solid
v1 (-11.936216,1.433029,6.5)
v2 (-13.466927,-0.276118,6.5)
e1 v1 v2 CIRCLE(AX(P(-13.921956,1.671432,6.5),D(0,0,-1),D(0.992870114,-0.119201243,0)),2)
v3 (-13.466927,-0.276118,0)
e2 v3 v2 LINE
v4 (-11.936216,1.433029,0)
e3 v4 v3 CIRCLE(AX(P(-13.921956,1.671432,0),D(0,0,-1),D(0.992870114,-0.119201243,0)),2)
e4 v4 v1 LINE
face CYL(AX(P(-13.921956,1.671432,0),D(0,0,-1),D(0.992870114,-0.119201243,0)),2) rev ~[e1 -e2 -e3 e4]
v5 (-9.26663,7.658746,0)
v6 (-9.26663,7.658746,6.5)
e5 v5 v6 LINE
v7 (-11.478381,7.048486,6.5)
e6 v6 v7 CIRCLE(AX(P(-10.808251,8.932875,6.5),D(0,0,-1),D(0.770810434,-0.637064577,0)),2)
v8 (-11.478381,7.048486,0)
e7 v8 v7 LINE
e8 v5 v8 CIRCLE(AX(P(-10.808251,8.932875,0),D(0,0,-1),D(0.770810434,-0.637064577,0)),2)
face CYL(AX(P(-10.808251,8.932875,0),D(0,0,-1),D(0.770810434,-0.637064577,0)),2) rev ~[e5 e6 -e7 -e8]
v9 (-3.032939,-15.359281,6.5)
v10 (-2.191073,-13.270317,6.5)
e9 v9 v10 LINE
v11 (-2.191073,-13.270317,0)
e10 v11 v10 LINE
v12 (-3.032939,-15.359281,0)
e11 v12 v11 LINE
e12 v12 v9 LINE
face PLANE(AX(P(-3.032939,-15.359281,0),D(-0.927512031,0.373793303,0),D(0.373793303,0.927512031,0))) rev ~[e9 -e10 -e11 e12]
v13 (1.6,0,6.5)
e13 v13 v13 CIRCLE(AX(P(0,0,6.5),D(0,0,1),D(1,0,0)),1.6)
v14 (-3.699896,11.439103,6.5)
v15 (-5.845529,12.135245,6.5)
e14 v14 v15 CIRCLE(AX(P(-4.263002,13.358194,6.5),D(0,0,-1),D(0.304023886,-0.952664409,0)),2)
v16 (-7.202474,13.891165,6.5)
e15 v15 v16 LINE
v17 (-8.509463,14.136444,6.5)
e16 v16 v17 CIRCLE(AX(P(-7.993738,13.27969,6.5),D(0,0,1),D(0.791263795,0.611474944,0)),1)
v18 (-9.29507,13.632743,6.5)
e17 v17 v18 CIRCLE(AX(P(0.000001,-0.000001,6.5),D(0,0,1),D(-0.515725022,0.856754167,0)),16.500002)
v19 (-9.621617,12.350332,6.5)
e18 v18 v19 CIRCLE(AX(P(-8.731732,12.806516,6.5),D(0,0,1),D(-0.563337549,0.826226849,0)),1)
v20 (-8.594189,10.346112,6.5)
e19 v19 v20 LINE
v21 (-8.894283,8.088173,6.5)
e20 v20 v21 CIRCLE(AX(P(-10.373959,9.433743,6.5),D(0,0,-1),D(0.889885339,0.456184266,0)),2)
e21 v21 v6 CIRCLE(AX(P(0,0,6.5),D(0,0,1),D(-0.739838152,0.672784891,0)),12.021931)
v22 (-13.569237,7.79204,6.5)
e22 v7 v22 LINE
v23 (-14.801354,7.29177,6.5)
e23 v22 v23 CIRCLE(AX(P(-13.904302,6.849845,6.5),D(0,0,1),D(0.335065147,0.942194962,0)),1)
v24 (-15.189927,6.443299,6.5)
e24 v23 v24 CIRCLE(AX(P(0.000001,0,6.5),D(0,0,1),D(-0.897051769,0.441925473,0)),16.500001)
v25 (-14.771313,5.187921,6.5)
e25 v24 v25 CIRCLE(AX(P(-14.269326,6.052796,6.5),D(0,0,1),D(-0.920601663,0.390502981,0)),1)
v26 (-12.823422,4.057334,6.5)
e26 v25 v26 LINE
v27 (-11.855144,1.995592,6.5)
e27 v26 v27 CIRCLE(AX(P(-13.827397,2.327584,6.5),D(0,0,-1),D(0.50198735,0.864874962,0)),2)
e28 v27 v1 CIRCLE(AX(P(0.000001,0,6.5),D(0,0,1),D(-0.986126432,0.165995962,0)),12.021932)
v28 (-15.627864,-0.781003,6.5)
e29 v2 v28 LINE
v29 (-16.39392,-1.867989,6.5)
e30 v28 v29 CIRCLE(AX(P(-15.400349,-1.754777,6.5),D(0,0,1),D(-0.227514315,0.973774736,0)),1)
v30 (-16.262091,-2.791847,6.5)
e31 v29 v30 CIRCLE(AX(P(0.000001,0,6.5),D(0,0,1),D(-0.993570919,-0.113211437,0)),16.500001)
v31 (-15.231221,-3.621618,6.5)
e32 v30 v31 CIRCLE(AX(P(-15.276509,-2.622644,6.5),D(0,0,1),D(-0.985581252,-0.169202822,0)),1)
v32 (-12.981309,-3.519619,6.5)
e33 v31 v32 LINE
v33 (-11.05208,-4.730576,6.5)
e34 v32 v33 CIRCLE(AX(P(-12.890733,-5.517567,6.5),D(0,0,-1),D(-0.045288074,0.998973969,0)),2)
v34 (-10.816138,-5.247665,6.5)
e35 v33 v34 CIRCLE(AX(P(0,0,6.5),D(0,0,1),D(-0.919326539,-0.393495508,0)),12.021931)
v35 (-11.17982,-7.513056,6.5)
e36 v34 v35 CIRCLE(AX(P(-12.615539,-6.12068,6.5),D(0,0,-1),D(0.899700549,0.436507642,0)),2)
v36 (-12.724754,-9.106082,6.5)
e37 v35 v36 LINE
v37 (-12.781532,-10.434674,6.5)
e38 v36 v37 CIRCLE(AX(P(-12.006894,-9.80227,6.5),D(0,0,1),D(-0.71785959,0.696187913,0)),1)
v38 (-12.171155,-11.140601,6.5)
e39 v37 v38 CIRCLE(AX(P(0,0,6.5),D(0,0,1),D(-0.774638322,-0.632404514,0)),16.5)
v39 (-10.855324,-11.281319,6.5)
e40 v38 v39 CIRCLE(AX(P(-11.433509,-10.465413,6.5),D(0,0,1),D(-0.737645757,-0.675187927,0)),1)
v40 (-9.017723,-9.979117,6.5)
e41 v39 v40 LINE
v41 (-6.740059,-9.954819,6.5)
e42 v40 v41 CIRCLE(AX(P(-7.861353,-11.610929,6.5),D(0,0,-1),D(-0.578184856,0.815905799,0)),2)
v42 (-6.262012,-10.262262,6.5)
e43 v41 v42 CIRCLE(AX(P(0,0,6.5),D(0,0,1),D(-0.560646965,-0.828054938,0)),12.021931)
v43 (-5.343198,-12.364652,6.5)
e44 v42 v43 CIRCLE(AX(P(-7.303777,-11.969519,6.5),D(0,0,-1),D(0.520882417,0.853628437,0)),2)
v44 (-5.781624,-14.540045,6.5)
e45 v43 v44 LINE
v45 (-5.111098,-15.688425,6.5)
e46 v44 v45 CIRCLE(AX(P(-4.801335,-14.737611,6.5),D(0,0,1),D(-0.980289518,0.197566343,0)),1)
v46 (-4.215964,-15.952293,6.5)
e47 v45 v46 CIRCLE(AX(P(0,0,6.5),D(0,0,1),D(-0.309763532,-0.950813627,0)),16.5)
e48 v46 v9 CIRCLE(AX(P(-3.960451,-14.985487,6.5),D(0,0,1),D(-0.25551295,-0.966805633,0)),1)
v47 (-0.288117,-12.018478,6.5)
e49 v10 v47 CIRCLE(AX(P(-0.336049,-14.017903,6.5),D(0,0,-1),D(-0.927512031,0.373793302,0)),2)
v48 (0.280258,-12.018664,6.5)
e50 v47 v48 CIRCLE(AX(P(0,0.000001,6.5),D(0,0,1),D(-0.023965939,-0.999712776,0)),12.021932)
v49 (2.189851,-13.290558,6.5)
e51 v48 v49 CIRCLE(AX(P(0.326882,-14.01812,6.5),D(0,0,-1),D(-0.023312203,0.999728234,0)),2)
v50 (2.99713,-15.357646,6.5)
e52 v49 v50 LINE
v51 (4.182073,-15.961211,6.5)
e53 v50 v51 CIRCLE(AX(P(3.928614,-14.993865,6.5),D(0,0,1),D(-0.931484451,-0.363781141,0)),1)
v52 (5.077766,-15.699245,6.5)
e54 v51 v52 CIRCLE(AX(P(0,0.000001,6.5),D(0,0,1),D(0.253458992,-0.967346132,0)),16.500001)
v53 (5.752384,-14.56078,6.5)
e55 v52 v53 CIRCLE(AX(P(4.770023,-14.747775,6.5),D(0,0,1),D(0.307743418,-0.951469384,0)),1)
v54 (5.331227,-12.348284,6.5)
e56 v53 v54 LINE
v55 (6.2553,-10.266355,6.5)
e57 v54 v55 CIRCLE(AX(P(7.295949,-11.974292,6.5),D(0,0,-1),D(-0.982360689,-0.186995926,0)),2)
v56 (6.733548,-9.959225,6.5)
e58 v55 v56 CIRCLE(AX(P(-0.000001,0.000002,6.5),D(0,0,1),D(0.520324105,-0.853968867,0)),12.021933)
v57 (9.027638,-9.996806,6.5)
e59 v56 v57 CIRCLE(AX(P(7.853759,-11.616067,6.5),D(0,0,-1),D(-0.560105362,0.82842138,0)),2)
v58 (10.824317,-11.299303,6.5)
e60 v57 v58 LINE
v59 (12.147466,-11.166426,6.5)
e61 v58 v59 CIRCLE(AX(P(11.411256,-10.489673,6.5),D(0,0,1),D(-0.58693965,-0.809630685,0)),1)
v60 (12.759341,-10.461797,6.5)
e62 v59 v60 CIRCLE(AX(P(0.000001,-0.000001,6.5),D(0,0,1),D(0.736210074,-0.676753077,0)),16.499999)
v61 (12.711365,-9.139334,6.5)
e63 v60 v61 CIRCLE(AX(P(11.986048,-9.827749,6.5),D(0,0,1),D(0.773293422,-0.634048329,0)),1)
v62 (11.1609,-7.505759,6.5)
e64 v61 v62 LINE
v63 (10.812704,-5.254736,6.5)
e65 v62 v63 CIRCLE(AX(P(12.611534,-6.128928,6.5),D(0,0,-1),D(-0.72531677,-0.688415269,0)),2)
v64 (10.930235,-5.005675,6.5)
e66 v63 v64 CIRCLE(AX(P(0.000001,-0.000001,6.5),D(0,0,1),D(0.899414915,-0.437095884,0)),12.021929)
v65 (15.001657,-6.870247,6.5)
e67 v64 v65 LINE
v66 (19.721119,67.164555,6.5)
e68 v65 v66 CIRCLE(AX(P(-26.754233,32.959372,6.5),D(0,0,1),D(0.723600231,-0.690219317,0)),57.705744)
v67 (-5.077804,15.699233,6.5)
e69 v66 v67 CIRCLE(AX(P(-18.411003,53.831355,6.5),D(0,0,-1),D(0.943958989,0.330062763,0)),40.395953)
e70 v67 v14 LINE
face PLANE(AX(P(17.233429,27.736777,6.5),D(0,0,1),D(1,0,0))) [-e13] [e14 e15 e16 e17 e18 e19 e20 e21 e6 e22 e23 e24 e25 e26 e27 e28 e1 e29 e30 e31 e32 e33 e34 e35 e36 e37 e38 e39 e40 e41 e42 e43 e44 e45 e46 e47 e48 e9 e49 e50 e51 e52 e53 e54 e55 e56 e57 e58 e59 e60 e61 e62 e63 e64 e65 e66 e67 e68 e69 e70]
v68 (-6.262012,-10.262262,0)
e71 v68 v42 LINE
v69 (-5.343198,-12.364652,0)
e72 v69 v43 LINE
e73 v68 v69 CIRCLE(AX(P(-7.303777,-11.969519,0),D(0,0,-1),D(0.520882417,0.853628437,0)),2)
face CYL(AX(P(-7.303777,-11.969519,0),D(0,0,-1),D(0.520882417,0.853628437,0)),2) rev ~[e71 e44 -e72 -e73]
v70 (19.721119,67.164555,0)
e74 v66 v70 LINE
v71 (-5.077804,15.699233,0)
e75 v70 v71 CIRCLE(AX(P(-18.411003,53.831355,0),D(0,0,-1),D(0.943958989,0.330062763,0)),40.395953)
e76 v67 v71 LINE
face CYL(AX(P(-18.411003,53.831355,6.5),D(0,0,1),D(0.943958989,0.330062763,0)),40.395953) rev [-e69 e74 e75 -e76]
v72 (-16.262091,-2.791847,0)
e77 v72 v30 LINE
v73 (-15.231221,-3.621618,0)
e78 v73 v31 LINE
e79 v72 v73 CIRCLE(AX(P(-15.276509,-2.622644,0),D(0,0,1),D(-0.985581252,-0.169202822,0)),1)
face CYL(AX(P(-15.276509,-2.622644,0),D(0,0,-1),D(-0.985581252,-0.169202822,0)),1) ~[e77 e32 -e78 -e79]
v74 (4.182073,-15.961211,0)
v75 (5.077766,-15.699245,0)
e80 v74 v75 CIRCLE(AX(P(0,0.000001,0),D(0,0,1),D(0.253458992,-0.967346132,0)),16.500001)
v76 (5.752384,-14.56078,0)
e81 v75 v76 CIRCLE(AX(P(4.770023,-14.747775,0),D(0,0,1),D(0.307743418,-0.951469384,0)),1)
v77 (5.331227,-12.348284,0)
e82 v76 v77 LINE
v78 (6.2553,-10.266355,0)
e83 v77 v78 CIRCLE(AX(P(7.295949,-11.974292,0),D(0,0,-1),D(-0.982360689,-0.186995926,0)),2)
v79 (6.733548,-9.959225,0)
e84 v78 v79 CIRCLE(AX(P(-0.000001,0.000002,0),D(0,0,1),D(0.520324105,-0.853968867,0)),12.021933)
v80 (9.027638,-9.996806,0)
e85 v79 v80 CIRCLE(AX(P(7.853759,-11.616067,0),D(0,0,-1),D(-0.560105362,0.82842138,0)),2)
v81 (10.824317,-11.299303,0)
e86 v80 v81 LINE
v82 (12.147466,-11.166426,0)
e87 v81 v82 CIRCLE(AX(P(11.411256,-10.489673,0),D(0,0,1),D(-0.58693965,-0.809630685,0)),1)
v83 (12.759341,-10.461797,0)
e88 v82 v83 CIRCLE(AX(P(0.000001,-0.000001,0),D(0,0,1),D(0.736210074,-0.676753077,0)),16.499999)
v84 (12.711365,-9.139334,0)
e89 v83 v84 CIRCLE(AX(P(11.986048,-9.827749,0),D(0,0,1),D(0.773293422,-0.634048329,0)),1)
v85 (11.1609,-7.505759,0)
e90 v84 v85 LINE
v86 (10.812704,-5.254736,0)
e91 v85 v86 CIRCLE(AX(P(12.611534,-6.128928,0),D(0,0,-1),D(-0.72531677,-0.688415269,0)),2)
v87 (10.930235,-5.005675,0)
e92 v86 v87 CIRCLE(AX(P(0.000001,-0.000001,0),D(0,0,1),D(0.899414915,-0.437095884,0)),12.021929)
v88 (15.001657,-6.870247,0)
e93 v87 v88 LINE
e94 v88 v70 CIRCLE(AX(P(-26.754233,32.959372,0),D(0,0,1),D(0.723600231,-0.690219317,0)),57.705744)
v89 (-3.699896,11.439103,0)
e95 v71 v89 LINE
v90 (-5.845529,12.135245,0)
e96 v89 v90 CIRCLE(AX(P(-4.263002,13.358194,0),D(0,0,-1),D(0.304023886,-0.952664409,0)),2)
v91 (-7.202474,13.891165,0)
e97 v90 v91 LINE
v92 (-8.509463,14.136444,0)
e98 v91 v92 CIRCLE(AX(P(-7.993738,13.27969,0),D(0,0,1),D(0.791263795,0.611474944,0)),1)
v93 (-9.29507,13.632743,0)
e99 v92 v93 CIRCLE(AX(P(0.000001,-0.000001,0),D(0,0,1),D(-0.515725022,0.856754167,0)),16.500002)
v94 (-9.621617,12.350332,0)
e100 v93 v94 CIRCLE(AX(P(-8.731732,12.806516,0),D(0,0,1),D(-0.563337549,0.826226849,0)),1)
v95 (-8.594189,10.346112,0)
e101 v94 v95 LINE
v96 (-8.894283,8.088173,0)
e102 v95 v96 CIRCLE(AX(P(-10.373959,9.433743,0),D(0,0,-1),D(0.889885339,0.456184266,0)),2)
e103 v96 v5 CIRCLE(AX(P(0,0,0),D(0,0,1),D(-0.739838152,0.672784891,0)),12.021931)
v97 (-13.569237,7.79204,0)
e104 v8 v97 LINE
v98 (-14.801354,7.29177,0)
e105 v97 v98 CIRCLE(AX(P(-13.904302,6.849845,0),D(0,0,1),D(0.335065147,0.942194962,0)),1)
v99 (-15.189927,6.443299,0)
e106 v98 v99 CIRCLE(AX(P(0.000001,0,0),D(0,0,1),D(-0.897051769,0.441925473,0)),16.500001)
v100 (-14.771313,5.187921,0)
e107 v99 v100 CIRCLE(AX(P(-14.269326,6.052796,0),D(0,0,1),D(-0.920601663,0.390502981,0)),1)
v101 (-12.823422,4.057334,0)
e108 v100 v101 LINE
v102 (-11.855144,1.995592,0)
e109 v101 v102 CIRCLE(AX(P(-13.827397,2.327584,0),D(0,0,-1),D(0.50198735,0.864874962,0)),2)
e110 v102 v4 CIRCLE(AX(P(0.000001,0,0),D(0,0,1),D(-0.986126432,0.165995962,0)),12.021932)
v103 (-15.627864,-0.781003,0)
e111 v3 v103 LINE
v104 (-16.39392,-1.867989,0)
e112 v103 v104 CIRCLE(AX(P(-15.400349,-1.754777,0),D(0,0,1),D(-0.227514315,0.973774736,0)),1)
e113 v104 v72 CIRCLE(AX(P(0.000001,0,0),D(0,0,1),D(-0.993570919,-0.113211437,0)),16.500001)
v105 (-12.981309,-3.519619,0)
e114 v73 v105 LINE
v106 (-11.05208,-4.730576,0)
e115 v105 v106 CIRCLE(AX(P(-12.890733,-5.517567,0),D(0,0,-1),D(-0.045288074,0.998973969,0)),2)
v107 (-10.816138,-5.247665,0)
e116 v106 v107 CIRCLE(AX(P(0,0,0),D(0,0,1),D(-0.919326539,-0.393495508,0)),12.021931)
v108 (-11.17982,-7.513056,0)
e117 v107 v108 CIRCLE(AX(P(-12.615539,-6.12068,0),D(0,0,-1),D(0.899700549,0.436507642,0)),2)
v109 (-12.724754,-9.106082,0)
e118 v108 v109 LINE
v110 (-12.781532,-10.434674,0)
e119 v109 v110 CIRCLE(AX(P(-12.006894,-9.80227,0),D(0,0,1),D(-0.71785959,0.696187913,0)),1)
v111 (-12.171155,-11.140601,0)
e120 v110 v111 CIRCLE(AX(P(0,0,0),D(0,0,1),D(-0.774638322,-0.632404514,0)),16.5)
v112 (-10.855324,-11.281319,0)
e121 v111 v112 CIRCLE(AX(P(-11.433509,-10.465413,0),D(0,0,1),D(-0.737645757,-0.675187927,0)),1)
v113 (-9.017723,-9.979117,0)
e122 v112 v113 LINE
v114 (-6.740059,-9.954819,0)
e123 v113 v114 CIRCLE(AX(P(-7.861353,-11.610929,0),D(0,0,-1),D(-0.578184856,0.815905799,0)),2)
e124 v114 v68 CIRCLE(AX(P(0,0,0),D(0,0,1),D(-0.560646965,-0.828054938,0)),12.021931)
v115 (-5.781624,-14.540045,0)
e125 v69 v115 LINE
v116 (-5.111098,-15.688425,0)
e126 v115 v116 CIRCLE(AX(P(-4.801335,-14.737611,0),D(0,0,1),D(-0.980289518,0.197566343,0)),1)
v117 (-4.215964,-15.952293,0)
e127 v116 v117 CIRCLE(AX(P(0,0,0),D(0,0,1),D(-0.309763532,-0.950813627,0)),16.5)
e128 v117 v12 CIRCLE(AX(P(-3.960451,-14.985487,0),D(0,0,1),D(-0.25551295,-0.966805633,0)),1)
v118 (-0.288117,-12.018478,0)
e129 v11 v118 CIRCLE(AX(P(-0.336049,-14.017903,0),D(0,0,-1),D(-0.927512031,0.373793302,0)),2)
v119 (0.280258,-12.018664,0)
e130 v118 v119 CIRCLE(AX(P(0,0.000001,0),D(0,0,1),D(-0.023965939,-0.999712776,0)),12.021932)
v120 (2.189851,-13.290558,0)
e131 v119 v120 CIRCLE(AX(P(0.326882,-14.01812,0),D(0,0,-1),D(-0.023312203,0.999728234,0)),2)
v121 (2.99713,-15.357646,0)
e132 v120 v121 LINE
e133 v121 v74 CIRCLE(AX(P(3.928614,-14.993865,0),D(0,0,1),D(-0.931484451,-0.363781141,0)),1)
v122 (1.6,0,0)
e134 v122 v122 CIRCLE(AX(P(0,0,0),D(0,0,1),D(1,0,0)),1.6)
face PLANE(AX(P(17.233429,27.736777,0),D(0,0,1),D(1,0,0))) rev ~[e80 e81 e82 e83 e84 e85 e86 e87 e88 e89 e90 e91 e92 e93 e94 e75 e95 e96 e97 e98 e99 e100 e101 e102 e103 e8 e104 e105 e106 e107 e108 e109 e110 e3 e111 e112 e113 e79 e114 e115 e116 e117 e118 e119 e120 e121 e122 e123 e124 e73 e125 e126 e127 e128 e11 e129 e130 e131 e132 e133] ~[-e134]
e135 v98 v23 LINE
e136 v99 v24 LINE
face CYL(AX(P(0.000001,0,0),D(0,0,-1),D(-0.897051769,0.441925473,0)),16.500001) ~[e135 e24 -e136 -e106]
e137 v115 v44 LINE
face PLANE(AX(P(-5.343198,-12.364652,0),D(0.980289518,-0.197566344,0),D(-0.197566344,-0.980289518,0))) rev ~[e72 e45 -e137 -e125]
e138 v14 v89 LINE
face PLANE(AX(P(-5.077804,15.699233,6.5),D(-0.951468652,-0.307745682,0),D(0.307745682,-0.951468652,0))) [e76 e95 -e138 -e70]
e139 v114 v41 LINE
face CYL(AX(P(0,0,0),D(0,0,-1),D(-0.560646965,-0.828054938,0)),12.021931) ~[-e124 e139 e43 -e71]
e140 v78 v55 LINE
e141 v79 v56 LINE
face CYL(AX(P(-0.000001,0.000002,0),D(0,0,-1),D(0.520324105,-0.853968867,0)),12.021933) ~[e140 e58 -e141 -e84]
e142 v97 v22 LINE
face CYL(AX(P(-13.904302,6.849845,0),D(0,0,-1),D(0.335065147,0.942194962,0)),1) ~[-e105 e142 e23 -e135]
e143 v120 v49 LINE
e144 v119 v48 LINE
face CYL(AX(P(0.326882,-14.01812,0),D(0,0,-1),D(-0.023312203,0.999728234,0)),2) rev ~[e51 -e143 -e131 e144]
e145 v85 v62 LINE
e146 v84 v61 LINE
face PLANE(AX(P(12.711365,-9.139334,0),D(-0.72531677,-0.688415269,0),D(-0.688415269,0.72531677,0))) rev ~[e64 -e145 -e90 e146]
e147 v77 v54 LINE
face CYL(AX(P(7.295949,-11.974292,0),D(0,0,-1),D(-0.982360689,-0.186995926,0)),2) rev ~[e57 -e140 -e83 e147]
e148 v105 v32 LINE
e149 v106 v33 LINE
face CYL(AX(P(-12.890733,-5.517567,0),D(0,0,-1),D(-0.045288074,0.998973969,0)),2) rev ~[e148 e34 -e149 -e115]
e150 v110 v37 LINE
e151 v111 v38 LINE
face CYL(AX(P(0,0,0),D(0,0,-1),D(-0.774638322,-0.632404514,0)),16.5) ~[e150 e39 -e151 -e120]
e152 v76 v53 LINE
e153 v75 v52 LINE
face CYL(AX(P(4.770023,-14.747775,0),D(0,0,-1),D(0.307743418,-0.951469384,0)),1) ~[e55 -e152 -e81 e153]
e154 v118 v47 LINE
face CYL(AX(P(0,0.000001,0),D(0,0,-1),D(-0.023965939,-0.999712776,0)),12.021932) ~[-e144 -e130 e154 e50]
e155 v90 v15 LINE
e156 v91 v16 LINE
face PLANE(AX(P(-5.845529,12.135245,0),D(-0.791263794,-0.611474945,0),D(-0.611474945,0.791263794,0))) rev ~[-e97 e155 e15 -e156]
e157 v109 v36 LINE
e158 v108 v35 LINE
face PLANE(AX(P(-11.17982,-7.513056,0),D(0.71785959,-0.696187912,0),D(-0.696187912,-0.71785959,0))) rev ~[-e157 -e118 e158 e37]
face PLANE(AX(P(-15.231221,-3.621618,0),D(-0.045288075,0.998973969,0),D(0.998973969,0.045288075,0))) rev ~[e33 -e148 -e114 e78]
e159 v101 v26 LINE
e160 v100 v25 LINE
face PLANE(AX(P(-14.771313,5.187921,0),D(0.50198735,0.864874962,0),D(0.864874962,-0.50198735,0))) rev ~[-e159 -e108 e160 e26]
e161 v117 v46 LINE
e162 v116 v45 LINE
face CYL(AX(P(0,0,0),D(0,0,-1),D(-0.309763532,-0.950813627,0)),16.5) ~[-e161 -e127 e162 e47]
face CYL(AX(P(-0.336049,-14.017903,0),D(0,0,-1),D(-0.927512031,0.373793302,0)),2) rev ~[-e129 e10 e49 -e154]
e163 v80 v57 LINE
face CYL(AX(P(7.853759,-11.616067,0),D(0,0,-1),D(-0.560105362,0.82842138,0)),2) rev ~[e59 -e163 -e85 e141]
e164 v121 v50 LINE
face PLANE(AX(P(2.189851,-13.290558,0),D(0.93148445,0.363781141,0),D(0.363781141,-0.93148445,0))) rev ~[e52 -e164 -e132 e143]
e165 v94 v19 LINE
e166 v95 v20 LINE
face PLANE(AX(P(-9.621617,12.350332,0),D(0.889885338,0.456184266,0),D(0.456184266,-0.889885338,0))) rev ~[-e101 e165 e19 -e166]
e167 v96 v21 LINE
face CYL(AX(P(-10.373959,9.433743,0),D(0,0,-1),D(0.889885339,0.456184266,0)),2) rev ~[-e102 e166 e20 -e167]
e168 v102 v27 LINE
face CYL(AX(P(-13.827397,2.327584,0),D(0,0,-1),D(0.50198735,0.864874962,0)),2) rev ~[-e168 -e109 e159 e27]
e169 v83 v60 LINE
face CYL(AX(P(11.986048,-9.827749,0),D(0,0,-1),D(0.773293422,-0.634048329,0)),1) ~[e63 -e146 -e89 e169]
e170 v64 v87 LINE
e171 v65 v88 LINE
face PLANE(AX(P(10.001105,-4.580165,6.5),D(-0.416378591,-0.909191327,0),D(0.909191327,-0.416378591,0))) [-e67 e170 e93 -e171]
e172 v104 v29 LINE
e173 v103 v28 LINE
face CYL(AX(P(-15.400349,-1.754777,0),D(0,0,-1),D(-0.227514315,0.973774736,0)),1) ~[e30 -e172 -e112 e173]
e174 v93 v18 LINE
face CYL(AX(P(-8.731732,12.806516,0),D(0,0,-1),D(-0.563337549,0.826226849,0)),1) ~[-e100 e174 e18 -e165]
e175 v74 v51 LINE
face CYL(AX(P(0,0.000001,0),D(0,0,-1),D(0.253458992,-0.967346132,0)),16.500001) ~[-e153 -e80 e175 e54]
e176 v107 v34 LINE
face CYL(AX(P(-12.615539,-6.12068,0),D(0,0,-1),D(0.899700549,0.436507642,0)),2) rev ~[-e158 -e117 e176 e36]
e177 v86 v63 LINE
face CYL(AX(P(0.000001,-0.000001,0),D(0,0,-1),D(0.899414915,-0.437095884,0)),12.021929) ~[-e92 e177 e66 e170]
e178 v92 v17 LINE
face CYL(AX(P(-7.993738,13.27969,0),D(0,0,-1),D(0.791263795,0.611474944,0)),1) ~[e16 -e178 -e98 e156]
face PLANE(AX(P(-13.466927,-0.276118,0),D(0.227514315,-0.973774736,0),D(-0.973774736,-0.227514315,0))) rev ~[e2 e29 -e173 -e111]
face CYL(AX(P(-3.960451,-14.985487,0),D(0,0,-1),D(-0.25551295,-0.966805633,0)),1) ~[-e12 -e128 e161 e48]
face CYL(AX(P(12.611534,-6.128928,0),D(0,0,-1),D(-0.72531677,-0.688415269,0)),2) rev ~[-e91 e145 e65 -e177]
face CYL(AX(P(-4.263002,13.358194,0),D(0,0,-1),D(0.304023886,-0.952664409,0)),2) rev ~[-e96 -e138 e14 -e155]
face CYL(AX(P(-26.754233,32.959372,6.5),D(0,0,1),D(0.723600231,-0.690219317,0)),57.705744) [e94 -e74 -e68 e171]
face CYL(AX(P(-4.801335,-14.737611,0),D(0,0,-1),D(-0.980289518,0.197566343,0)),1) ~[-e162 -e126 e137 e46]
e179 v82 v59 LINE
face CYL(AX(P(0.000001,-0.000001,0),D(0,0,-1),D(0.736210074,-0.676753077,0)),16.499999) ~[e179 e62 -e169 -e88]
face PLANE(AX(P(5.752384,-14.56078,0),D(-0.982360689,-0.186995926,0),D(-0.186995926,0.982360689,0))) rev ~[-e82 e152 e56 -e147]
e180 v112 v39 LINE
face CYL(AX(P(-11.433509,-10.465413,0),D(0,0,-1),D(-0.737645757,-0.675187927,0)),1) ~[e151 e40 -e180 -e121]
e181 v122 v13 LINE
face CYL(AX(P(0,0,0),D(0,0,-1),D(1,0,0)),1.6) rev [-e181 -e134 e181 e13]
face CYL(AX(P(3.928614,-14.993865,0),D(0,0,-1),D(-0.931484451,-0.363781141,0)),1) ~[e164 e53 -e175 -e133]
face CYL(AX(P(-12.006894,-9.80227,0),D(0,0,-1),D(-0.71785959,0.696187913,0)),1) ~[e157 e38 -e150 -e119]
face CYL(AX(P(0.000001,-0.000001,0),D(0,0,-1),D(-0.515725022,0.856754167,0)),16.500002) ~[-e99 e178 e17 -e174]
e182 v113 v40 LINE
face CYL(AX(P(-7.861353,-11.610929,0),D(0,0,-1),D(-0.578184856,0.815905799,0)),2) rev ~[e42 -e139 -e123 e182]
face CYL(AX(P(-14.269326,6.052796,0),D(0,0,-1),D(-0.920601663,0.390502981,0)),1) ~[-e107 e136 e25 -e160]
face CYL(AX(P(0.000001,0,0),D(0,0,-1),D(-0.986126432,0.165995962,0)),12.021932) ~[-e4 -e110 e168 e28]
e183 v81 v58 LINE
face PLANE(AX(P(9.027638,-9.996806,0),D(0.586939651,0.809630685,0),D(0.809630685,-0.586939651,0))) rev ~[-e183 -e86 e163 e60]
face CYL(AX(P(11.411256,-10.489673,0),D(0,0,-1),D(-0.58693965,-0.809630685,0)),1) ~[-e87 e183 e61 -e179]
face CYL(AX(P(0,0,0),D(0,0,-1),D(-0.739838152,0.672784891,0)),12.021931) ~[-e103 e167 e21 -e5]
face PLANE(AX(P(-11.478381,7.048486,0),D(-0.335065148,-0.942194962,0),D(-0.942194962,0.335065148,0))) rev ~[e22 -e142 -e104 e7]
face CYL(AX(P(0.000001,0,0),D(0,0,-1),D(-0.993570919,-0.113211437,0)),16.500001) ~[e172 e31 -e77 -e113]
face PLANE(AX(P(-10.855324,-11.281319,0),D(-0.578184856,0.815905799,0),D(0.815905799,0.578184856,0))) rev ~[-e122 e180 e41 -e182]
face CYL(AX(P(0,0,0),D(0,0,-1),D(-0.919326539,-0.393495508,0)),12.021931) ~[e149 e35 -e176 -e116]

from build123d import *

# Parameters (mm, degrees)
ESBO_O1_R                = 1.6
RESSALTO_EXTRUS_O1_DEPTH = 6.5
RESSALTO_EXTRUS_O2_DEPTH = 6.5


with BuildPart() as part:
    # Esboço1 → Ressalto-extrusão1 (new body)
    with BuildSketch(Plane.XY):
        with BuildLine():
            Line((7.237292739, 13.882644275), (5.840999253, 12.115479156))
            ThreePointArc((5.840999253, 12.115479156), (4.855639954, 11.442537909), (3.66244261, 11.450473127))
            ThreePointArc((3.66244261, 11.450473127), (3.390740604, 11.533850132), (3.117143568, 11.610781054))
            ThreePointArc((3.117143568, 11.610781054), (2.102970634, 12.257593135), (1.64323621, 13.369149192))
            Line((1.64323621, 13.369149192), (1.451023847, 15.579942687))
            ThreePointArc((1.451023847, 15.579942687), (1.141313879, 16.220426504), (0.484122849, 16.4928962))
            ThreePointArc((0.484122849, 16.4928962), (0.017522037, 16.499990696), (-0.449092791, 16.493887221))
            ThreePointArc((-0.449092791, 16.493887221), (-1.103704511, 16.225768855), (-1.417126065, 15.591599404))
            Line((-1.417126065, 15.591599404), (-1.636361298, 13.350072253))
            ThreePointArc((-1.636361298, 13.350072253), (-2.101478783, 12.251232594), (-3.109550367, 11.612816937))
            ThreePointArc((-3.109550367, 11.612816937), (-3.383197652, 11.536064942), (-3.654954122, 11.452865627))
            ThreePointArc((-3.654954122, 11.452865627), (-4.857823698, 11.448695291), (-5.845529481, 12.135244556))
            Line((-5.845529481, 12.135244556), (-7.202474013, 13.891164545))
            ThreePointArc((-7.202474013, 13.891164545), (-7.809290312, 14.262531969), (-8.509462826, 14.136443768))
            ThreePointArc((-8.509462826, 14.136443768), (-8.905827982, 13.890148593), (-9.295069567, 13.632743002))
            ThreePointArc((-9.295069567, 13.632743002), (-9.700808257, 13.053277663), (-9.621617356, 12.350331887))
            Line((-9.621617356, 12.350331887), (-8.594188699, 10.346111737))
            ThreePointArc((-8.594188699, 10.346111737), (-8.391392855, 9.170247495), (-8.894283074, 8.088173422))
            ThreePointArc((-8.894283074, 8.088173422), (-9.082994557, 7.875660644), (-9.266629702, 7.658746286))
            ThreePointArc((-9.266629702, 7.658746286), (-10.276293328, 7.004917585), (-11.478380864, 7.048485517))
            Line((-11.478380864, 7.048485517), (-13.569237263, 7.792039811))
            ThreePointArc((-13.569237263, 7.792039811), (-14.280500006, 7.776384308), (-14.80135418, 7.291770323))
            ThreePointArc((-14.80135418, 7.291770323), (-15.001640543, 6.870282455), (-15.189927432, 6.443299203))
            ThreePointArc((-15.189927432, 6.443299203), (-15.217973923, 5.736463043), (-14.771313119, 5.187921259))
            Line((-14.771313119, 5.187921259), (-12.823421912, 4.057333846))
            ThreePointArc((-12.823421912, 4.057333846), (-12.017098986, 3.177773609), (-11.855143748, 1.995591994))
            ThreePointArc((-11.855143748, 1.995591994), (-11.899004868, 1.714789737), (-11.936215827, 1.433029113))
            ThreePointArc((-11.936215827, 1.433029113), (-12.432112436, 0.33712804), (-13.466927425, -0.276117871))
            Line((-13.466927425, -0.276117871), (-15.627863558, -0.781002507))
            ThreePointArc((-15.627863558, -0.781002507), (-16.21775185, -1.178710425), (-16.393920163, -1.867988679))
            ThreePointArc((-16.393920163, -1.867988679), (-16.334538228, -2.330849819), (-16.262090664, -2.791846566))
            ThreePointArc((-16.262090664, -2.791846566), (-15.903540395, -3.401638061), (-15.231221337, -3.621617713))
            Line((-15.231221337, -3.621617713), (-12.981309273, -3.519618873))
            ThreePointArc((-12.981309273, -3.519618873), (-11.827461098, -3.823620944), (-11.052080047, -4.730575792))
            ThreePointArc((-11.052080047, -4.730575792), (-10.937165208, -4.990514794), (-10.816137764, -5.247664678))
            ThreePointArc((-10.816137764, -5.247664678), (-10.640823687, -6.437697275), (-11.179819681, -7.513055786))
            Line((-11.179819681, -7.513055786), (-12.724753595, -9.106082048))
            ThreePointArc((-12.724753595, -9.106082048), (-13.005982071, -9.759572927), (-12.781532328, -10.434674473))
            ThreePointArc((-12.781532328, -10.434674473), (-12.48133544, -10.791953745), (-12.171155012, -11.140600777))
            ThreePointArc((-12.171155012, -11.140600777), (-11.53984516, -11.459743115), (-10.855324398, -11.28131865))
            Line((-10.855324398, -11.28131865), (-9.017722662, -9.979117468))
            ThreePointArc((-9.017722662, -9.979117468), (-7.88268788, -9.611042864), (-6.740059022, -9.954819189))
            ThreePointArc((-6.740059022, -9.954819189), (-6.502852873, -10.11136614), (-6.262012384, -10.262262012))
            ThreePointArc((-6.262012384, -10.262262012), (-5.471148601, -11.168599193), (-5.343198182, -12.364651574))
            Line((-5.343198182, -12.364651574), (-5.781624274, -14.540044879))
            ThreePointArc((-5.781624274, -14.540044879), (-5.664904879, -15.241839982), (-5.111098288, -15.68842485))
            ThreePointArc((-5.111098288, -15.68842485), (-4.665396838, -15.826688609), (-4.215963642, -15.952292956))
            ThreePointArc((-4.215963642, -15.952292956), (-3.512330623, -15.879460702), (-3.032938663, -15.359280625))
            Line((-3.032938663, -15.359280625), (-2.191072822, -13.270316777))
            ThreePointArc((-2.191072822, -13.270316777), (-1.435216957, -12.347026583), (-0.28811688, -12.018477831))
            ThreePointArc((-0.28811688, -12.018477831), (-0.003930697, -12.02193018), (0.280257682, -12.018663667))
            ThreePointArc((0.280257682, -12.018663667), (1.435577508, -12.35354978), (2.189850988, -13.290557851))
            Line((2.189850988, -13.290557851), (2.997129903, -15.357646195))
            ThreePointArc((2.997129903, -15.357646195), (3.474739585, -15.884930537), (4.182073344, -15.961211187))
            ThreePointArc((4.182073344, -15.961211187), (4.631772295, -15.836561666), (5.077766396, -15.699244836))
            ThreePointArc((5.077766396, -15.699244836), (5.630324069, -15.257561714), (5.752383667, -14.560779526))
            Line((5.752383667, -14.560779526), (5.331227158, -12.348284272))
            ThreePointArc((5.331227158, -12.348284272), (5.46792521, -11.162916602), (6.255300336, -10.26635468))
            ThreePointArc((6.255300336, -10.26635468), (6.496239447, -10.11561633), (6.733547915, -9.959224527))
            ThreePointArc((6.733547915, -9.959224527), (7.886517902, -9.616335598), (9.027637941, -9.996805918))
            Line((9.027637941, -9.996805918), (10.824316513, -11.299303357))
            ThreePointArc((10.824316513, -11.299303357), (11.511178782, -11.484667883), (12.147466239, -11.166425748))
            ThreePointArc((12.147466239, -11.166425748), (12.458386452, -10.81843829), (12.759341481, -10.461797406))
            ThreePointArc((12.759341481, -10.461797406), (12.985390652, -9.791494687), (12.711364828, -9.139333809))
            Line((12.711364828, -9.139333809), (11.160900184, -7.505758759))
            ThreePointArc((11.160900184, -7.505758759), (10.635039757, -6.434659473), (10.812703893, -5.254736456))
            ThreePointArc((10.812703893, -5.254736456), (10.933899467, -4.99766577), (11.048984261, -4.737801968))
            ThreePointArc((11.048984261, -4.737801968), (11.833544585, -3.826002809), (12.999213634, -3.529138739))
            Line((12.999213634, -3.529138739), (15.21485911, -3.65351154))
            ThreePointArc((15.21485911, -3.65351154), (15.89290005, -3.438104324), (16.256124433, -2.826379032))
            ThreePointArc((16.256124433, -2.826379032), (16.329550936, -2.365537195), (16.389915799, -1.902803219))
            ThreePointArc((16.389915799, -1.902803219), (16.217687452, -1.21669728), (15.63457747, -0.816214183))
            Line((15.63457747, -0.816214183), (13.44706626, -0.280207874))
            ThreePointArc((13.44706626, -0.280207874), (12.425604324, 0.336556574), (11.937150363, 1.425223464))
            ThreePointArc((11.937150363, 1.425223464), (11.900123661, 1.707008361), (11.856446173, 1.987839239))
            ThreePointArc((11.856446173, 1.987839239), (12.023504475, 3.179058838), (12.843630847, 4.059005053))
            Line((12.843630847, 4.059005053), (14.774791444, 5.152244377))
            ThreePointArc((14.774791444, 5.152244377), (15.228737846, 5.700033066), (15.203577979, 6.411023056))
            ThreePointArc((15.203577979, 6.411023056), (15.016198378, 6.838405244), (14.816807657, 7.260317546))
            ThreePointArc((14.816807657, 7.260317546), (14.300983076, 7.744392916), (13.593922234, 7.766047679))
            Line((13.593922234, 7.766047679), (11.463883812, 7.034307031))
            ThreePointArc((11.463883812, 7.034307031), (10.271127314, 7.000918286), (9.271635936, 7.652685004))
            ThreePointArc((9.271635936, 7.652685004), (9.088142675, 7.869719398), (8.899570199, 8.082355534))
            ThreePointArc((8.899570199, 8.082355534), (8.396086648, 9.174791766), (8.610286014, 10.358443421))
            Line((8.610286014, 10.358443421), (9.643831887, 12.322199108))
            ThreePointArc((9.643831887, 12.322199108), (9.729558977, 13.028450232), (9.324002941, 13.612970622))
            ThreePointArc((9.324002941, 13.612970622), (8.935308934, 13.871202336), (8.539467774, 14.118338788))
            ThreePointArc((8.539467774, 14.118338788), (7.843817619, 14.246693081), (7.237292739, 13.882644275))
        make_face()
        Circle(ESBO_O1_R, mode=Mode.SUBTRACT)
    extrude(amount=RESSALTO_EXTRUS_O1_DEPTH)

    # Esboço6 → Ressalto-extrusão2 (add)
    with BuildSketch(Plane.XY.offset(6.5)):
        with BuildLine():
            ThreePointArc((19.721119128, 67.164555089), (17.980474936, 36.295868824), (-5.07780376, 15.699232751))
            Line((-5.07780376, 15.699232751), (-3.385202507, 10.466155167))
            ThreePointArc((-3.385202507, 10.466155167), (6.471582976, 8.894864461), (11, 0))
            ThreePointArc((11, 0), (10.747375274, -2.343912268), (10.001104596, -4.580164501))
            Line((10.001104596, -4.580164501), (15.001656894, -6.870246751))
            ThreePointArc((15.001656894, -6.870246751), (30.834620096, 29.288282282), (19.721119128, 67.164555089))
        make_face()
    extrude(amount=-RESSALTO_EXTRUS_O2_DEPTH)


solid = part.part
